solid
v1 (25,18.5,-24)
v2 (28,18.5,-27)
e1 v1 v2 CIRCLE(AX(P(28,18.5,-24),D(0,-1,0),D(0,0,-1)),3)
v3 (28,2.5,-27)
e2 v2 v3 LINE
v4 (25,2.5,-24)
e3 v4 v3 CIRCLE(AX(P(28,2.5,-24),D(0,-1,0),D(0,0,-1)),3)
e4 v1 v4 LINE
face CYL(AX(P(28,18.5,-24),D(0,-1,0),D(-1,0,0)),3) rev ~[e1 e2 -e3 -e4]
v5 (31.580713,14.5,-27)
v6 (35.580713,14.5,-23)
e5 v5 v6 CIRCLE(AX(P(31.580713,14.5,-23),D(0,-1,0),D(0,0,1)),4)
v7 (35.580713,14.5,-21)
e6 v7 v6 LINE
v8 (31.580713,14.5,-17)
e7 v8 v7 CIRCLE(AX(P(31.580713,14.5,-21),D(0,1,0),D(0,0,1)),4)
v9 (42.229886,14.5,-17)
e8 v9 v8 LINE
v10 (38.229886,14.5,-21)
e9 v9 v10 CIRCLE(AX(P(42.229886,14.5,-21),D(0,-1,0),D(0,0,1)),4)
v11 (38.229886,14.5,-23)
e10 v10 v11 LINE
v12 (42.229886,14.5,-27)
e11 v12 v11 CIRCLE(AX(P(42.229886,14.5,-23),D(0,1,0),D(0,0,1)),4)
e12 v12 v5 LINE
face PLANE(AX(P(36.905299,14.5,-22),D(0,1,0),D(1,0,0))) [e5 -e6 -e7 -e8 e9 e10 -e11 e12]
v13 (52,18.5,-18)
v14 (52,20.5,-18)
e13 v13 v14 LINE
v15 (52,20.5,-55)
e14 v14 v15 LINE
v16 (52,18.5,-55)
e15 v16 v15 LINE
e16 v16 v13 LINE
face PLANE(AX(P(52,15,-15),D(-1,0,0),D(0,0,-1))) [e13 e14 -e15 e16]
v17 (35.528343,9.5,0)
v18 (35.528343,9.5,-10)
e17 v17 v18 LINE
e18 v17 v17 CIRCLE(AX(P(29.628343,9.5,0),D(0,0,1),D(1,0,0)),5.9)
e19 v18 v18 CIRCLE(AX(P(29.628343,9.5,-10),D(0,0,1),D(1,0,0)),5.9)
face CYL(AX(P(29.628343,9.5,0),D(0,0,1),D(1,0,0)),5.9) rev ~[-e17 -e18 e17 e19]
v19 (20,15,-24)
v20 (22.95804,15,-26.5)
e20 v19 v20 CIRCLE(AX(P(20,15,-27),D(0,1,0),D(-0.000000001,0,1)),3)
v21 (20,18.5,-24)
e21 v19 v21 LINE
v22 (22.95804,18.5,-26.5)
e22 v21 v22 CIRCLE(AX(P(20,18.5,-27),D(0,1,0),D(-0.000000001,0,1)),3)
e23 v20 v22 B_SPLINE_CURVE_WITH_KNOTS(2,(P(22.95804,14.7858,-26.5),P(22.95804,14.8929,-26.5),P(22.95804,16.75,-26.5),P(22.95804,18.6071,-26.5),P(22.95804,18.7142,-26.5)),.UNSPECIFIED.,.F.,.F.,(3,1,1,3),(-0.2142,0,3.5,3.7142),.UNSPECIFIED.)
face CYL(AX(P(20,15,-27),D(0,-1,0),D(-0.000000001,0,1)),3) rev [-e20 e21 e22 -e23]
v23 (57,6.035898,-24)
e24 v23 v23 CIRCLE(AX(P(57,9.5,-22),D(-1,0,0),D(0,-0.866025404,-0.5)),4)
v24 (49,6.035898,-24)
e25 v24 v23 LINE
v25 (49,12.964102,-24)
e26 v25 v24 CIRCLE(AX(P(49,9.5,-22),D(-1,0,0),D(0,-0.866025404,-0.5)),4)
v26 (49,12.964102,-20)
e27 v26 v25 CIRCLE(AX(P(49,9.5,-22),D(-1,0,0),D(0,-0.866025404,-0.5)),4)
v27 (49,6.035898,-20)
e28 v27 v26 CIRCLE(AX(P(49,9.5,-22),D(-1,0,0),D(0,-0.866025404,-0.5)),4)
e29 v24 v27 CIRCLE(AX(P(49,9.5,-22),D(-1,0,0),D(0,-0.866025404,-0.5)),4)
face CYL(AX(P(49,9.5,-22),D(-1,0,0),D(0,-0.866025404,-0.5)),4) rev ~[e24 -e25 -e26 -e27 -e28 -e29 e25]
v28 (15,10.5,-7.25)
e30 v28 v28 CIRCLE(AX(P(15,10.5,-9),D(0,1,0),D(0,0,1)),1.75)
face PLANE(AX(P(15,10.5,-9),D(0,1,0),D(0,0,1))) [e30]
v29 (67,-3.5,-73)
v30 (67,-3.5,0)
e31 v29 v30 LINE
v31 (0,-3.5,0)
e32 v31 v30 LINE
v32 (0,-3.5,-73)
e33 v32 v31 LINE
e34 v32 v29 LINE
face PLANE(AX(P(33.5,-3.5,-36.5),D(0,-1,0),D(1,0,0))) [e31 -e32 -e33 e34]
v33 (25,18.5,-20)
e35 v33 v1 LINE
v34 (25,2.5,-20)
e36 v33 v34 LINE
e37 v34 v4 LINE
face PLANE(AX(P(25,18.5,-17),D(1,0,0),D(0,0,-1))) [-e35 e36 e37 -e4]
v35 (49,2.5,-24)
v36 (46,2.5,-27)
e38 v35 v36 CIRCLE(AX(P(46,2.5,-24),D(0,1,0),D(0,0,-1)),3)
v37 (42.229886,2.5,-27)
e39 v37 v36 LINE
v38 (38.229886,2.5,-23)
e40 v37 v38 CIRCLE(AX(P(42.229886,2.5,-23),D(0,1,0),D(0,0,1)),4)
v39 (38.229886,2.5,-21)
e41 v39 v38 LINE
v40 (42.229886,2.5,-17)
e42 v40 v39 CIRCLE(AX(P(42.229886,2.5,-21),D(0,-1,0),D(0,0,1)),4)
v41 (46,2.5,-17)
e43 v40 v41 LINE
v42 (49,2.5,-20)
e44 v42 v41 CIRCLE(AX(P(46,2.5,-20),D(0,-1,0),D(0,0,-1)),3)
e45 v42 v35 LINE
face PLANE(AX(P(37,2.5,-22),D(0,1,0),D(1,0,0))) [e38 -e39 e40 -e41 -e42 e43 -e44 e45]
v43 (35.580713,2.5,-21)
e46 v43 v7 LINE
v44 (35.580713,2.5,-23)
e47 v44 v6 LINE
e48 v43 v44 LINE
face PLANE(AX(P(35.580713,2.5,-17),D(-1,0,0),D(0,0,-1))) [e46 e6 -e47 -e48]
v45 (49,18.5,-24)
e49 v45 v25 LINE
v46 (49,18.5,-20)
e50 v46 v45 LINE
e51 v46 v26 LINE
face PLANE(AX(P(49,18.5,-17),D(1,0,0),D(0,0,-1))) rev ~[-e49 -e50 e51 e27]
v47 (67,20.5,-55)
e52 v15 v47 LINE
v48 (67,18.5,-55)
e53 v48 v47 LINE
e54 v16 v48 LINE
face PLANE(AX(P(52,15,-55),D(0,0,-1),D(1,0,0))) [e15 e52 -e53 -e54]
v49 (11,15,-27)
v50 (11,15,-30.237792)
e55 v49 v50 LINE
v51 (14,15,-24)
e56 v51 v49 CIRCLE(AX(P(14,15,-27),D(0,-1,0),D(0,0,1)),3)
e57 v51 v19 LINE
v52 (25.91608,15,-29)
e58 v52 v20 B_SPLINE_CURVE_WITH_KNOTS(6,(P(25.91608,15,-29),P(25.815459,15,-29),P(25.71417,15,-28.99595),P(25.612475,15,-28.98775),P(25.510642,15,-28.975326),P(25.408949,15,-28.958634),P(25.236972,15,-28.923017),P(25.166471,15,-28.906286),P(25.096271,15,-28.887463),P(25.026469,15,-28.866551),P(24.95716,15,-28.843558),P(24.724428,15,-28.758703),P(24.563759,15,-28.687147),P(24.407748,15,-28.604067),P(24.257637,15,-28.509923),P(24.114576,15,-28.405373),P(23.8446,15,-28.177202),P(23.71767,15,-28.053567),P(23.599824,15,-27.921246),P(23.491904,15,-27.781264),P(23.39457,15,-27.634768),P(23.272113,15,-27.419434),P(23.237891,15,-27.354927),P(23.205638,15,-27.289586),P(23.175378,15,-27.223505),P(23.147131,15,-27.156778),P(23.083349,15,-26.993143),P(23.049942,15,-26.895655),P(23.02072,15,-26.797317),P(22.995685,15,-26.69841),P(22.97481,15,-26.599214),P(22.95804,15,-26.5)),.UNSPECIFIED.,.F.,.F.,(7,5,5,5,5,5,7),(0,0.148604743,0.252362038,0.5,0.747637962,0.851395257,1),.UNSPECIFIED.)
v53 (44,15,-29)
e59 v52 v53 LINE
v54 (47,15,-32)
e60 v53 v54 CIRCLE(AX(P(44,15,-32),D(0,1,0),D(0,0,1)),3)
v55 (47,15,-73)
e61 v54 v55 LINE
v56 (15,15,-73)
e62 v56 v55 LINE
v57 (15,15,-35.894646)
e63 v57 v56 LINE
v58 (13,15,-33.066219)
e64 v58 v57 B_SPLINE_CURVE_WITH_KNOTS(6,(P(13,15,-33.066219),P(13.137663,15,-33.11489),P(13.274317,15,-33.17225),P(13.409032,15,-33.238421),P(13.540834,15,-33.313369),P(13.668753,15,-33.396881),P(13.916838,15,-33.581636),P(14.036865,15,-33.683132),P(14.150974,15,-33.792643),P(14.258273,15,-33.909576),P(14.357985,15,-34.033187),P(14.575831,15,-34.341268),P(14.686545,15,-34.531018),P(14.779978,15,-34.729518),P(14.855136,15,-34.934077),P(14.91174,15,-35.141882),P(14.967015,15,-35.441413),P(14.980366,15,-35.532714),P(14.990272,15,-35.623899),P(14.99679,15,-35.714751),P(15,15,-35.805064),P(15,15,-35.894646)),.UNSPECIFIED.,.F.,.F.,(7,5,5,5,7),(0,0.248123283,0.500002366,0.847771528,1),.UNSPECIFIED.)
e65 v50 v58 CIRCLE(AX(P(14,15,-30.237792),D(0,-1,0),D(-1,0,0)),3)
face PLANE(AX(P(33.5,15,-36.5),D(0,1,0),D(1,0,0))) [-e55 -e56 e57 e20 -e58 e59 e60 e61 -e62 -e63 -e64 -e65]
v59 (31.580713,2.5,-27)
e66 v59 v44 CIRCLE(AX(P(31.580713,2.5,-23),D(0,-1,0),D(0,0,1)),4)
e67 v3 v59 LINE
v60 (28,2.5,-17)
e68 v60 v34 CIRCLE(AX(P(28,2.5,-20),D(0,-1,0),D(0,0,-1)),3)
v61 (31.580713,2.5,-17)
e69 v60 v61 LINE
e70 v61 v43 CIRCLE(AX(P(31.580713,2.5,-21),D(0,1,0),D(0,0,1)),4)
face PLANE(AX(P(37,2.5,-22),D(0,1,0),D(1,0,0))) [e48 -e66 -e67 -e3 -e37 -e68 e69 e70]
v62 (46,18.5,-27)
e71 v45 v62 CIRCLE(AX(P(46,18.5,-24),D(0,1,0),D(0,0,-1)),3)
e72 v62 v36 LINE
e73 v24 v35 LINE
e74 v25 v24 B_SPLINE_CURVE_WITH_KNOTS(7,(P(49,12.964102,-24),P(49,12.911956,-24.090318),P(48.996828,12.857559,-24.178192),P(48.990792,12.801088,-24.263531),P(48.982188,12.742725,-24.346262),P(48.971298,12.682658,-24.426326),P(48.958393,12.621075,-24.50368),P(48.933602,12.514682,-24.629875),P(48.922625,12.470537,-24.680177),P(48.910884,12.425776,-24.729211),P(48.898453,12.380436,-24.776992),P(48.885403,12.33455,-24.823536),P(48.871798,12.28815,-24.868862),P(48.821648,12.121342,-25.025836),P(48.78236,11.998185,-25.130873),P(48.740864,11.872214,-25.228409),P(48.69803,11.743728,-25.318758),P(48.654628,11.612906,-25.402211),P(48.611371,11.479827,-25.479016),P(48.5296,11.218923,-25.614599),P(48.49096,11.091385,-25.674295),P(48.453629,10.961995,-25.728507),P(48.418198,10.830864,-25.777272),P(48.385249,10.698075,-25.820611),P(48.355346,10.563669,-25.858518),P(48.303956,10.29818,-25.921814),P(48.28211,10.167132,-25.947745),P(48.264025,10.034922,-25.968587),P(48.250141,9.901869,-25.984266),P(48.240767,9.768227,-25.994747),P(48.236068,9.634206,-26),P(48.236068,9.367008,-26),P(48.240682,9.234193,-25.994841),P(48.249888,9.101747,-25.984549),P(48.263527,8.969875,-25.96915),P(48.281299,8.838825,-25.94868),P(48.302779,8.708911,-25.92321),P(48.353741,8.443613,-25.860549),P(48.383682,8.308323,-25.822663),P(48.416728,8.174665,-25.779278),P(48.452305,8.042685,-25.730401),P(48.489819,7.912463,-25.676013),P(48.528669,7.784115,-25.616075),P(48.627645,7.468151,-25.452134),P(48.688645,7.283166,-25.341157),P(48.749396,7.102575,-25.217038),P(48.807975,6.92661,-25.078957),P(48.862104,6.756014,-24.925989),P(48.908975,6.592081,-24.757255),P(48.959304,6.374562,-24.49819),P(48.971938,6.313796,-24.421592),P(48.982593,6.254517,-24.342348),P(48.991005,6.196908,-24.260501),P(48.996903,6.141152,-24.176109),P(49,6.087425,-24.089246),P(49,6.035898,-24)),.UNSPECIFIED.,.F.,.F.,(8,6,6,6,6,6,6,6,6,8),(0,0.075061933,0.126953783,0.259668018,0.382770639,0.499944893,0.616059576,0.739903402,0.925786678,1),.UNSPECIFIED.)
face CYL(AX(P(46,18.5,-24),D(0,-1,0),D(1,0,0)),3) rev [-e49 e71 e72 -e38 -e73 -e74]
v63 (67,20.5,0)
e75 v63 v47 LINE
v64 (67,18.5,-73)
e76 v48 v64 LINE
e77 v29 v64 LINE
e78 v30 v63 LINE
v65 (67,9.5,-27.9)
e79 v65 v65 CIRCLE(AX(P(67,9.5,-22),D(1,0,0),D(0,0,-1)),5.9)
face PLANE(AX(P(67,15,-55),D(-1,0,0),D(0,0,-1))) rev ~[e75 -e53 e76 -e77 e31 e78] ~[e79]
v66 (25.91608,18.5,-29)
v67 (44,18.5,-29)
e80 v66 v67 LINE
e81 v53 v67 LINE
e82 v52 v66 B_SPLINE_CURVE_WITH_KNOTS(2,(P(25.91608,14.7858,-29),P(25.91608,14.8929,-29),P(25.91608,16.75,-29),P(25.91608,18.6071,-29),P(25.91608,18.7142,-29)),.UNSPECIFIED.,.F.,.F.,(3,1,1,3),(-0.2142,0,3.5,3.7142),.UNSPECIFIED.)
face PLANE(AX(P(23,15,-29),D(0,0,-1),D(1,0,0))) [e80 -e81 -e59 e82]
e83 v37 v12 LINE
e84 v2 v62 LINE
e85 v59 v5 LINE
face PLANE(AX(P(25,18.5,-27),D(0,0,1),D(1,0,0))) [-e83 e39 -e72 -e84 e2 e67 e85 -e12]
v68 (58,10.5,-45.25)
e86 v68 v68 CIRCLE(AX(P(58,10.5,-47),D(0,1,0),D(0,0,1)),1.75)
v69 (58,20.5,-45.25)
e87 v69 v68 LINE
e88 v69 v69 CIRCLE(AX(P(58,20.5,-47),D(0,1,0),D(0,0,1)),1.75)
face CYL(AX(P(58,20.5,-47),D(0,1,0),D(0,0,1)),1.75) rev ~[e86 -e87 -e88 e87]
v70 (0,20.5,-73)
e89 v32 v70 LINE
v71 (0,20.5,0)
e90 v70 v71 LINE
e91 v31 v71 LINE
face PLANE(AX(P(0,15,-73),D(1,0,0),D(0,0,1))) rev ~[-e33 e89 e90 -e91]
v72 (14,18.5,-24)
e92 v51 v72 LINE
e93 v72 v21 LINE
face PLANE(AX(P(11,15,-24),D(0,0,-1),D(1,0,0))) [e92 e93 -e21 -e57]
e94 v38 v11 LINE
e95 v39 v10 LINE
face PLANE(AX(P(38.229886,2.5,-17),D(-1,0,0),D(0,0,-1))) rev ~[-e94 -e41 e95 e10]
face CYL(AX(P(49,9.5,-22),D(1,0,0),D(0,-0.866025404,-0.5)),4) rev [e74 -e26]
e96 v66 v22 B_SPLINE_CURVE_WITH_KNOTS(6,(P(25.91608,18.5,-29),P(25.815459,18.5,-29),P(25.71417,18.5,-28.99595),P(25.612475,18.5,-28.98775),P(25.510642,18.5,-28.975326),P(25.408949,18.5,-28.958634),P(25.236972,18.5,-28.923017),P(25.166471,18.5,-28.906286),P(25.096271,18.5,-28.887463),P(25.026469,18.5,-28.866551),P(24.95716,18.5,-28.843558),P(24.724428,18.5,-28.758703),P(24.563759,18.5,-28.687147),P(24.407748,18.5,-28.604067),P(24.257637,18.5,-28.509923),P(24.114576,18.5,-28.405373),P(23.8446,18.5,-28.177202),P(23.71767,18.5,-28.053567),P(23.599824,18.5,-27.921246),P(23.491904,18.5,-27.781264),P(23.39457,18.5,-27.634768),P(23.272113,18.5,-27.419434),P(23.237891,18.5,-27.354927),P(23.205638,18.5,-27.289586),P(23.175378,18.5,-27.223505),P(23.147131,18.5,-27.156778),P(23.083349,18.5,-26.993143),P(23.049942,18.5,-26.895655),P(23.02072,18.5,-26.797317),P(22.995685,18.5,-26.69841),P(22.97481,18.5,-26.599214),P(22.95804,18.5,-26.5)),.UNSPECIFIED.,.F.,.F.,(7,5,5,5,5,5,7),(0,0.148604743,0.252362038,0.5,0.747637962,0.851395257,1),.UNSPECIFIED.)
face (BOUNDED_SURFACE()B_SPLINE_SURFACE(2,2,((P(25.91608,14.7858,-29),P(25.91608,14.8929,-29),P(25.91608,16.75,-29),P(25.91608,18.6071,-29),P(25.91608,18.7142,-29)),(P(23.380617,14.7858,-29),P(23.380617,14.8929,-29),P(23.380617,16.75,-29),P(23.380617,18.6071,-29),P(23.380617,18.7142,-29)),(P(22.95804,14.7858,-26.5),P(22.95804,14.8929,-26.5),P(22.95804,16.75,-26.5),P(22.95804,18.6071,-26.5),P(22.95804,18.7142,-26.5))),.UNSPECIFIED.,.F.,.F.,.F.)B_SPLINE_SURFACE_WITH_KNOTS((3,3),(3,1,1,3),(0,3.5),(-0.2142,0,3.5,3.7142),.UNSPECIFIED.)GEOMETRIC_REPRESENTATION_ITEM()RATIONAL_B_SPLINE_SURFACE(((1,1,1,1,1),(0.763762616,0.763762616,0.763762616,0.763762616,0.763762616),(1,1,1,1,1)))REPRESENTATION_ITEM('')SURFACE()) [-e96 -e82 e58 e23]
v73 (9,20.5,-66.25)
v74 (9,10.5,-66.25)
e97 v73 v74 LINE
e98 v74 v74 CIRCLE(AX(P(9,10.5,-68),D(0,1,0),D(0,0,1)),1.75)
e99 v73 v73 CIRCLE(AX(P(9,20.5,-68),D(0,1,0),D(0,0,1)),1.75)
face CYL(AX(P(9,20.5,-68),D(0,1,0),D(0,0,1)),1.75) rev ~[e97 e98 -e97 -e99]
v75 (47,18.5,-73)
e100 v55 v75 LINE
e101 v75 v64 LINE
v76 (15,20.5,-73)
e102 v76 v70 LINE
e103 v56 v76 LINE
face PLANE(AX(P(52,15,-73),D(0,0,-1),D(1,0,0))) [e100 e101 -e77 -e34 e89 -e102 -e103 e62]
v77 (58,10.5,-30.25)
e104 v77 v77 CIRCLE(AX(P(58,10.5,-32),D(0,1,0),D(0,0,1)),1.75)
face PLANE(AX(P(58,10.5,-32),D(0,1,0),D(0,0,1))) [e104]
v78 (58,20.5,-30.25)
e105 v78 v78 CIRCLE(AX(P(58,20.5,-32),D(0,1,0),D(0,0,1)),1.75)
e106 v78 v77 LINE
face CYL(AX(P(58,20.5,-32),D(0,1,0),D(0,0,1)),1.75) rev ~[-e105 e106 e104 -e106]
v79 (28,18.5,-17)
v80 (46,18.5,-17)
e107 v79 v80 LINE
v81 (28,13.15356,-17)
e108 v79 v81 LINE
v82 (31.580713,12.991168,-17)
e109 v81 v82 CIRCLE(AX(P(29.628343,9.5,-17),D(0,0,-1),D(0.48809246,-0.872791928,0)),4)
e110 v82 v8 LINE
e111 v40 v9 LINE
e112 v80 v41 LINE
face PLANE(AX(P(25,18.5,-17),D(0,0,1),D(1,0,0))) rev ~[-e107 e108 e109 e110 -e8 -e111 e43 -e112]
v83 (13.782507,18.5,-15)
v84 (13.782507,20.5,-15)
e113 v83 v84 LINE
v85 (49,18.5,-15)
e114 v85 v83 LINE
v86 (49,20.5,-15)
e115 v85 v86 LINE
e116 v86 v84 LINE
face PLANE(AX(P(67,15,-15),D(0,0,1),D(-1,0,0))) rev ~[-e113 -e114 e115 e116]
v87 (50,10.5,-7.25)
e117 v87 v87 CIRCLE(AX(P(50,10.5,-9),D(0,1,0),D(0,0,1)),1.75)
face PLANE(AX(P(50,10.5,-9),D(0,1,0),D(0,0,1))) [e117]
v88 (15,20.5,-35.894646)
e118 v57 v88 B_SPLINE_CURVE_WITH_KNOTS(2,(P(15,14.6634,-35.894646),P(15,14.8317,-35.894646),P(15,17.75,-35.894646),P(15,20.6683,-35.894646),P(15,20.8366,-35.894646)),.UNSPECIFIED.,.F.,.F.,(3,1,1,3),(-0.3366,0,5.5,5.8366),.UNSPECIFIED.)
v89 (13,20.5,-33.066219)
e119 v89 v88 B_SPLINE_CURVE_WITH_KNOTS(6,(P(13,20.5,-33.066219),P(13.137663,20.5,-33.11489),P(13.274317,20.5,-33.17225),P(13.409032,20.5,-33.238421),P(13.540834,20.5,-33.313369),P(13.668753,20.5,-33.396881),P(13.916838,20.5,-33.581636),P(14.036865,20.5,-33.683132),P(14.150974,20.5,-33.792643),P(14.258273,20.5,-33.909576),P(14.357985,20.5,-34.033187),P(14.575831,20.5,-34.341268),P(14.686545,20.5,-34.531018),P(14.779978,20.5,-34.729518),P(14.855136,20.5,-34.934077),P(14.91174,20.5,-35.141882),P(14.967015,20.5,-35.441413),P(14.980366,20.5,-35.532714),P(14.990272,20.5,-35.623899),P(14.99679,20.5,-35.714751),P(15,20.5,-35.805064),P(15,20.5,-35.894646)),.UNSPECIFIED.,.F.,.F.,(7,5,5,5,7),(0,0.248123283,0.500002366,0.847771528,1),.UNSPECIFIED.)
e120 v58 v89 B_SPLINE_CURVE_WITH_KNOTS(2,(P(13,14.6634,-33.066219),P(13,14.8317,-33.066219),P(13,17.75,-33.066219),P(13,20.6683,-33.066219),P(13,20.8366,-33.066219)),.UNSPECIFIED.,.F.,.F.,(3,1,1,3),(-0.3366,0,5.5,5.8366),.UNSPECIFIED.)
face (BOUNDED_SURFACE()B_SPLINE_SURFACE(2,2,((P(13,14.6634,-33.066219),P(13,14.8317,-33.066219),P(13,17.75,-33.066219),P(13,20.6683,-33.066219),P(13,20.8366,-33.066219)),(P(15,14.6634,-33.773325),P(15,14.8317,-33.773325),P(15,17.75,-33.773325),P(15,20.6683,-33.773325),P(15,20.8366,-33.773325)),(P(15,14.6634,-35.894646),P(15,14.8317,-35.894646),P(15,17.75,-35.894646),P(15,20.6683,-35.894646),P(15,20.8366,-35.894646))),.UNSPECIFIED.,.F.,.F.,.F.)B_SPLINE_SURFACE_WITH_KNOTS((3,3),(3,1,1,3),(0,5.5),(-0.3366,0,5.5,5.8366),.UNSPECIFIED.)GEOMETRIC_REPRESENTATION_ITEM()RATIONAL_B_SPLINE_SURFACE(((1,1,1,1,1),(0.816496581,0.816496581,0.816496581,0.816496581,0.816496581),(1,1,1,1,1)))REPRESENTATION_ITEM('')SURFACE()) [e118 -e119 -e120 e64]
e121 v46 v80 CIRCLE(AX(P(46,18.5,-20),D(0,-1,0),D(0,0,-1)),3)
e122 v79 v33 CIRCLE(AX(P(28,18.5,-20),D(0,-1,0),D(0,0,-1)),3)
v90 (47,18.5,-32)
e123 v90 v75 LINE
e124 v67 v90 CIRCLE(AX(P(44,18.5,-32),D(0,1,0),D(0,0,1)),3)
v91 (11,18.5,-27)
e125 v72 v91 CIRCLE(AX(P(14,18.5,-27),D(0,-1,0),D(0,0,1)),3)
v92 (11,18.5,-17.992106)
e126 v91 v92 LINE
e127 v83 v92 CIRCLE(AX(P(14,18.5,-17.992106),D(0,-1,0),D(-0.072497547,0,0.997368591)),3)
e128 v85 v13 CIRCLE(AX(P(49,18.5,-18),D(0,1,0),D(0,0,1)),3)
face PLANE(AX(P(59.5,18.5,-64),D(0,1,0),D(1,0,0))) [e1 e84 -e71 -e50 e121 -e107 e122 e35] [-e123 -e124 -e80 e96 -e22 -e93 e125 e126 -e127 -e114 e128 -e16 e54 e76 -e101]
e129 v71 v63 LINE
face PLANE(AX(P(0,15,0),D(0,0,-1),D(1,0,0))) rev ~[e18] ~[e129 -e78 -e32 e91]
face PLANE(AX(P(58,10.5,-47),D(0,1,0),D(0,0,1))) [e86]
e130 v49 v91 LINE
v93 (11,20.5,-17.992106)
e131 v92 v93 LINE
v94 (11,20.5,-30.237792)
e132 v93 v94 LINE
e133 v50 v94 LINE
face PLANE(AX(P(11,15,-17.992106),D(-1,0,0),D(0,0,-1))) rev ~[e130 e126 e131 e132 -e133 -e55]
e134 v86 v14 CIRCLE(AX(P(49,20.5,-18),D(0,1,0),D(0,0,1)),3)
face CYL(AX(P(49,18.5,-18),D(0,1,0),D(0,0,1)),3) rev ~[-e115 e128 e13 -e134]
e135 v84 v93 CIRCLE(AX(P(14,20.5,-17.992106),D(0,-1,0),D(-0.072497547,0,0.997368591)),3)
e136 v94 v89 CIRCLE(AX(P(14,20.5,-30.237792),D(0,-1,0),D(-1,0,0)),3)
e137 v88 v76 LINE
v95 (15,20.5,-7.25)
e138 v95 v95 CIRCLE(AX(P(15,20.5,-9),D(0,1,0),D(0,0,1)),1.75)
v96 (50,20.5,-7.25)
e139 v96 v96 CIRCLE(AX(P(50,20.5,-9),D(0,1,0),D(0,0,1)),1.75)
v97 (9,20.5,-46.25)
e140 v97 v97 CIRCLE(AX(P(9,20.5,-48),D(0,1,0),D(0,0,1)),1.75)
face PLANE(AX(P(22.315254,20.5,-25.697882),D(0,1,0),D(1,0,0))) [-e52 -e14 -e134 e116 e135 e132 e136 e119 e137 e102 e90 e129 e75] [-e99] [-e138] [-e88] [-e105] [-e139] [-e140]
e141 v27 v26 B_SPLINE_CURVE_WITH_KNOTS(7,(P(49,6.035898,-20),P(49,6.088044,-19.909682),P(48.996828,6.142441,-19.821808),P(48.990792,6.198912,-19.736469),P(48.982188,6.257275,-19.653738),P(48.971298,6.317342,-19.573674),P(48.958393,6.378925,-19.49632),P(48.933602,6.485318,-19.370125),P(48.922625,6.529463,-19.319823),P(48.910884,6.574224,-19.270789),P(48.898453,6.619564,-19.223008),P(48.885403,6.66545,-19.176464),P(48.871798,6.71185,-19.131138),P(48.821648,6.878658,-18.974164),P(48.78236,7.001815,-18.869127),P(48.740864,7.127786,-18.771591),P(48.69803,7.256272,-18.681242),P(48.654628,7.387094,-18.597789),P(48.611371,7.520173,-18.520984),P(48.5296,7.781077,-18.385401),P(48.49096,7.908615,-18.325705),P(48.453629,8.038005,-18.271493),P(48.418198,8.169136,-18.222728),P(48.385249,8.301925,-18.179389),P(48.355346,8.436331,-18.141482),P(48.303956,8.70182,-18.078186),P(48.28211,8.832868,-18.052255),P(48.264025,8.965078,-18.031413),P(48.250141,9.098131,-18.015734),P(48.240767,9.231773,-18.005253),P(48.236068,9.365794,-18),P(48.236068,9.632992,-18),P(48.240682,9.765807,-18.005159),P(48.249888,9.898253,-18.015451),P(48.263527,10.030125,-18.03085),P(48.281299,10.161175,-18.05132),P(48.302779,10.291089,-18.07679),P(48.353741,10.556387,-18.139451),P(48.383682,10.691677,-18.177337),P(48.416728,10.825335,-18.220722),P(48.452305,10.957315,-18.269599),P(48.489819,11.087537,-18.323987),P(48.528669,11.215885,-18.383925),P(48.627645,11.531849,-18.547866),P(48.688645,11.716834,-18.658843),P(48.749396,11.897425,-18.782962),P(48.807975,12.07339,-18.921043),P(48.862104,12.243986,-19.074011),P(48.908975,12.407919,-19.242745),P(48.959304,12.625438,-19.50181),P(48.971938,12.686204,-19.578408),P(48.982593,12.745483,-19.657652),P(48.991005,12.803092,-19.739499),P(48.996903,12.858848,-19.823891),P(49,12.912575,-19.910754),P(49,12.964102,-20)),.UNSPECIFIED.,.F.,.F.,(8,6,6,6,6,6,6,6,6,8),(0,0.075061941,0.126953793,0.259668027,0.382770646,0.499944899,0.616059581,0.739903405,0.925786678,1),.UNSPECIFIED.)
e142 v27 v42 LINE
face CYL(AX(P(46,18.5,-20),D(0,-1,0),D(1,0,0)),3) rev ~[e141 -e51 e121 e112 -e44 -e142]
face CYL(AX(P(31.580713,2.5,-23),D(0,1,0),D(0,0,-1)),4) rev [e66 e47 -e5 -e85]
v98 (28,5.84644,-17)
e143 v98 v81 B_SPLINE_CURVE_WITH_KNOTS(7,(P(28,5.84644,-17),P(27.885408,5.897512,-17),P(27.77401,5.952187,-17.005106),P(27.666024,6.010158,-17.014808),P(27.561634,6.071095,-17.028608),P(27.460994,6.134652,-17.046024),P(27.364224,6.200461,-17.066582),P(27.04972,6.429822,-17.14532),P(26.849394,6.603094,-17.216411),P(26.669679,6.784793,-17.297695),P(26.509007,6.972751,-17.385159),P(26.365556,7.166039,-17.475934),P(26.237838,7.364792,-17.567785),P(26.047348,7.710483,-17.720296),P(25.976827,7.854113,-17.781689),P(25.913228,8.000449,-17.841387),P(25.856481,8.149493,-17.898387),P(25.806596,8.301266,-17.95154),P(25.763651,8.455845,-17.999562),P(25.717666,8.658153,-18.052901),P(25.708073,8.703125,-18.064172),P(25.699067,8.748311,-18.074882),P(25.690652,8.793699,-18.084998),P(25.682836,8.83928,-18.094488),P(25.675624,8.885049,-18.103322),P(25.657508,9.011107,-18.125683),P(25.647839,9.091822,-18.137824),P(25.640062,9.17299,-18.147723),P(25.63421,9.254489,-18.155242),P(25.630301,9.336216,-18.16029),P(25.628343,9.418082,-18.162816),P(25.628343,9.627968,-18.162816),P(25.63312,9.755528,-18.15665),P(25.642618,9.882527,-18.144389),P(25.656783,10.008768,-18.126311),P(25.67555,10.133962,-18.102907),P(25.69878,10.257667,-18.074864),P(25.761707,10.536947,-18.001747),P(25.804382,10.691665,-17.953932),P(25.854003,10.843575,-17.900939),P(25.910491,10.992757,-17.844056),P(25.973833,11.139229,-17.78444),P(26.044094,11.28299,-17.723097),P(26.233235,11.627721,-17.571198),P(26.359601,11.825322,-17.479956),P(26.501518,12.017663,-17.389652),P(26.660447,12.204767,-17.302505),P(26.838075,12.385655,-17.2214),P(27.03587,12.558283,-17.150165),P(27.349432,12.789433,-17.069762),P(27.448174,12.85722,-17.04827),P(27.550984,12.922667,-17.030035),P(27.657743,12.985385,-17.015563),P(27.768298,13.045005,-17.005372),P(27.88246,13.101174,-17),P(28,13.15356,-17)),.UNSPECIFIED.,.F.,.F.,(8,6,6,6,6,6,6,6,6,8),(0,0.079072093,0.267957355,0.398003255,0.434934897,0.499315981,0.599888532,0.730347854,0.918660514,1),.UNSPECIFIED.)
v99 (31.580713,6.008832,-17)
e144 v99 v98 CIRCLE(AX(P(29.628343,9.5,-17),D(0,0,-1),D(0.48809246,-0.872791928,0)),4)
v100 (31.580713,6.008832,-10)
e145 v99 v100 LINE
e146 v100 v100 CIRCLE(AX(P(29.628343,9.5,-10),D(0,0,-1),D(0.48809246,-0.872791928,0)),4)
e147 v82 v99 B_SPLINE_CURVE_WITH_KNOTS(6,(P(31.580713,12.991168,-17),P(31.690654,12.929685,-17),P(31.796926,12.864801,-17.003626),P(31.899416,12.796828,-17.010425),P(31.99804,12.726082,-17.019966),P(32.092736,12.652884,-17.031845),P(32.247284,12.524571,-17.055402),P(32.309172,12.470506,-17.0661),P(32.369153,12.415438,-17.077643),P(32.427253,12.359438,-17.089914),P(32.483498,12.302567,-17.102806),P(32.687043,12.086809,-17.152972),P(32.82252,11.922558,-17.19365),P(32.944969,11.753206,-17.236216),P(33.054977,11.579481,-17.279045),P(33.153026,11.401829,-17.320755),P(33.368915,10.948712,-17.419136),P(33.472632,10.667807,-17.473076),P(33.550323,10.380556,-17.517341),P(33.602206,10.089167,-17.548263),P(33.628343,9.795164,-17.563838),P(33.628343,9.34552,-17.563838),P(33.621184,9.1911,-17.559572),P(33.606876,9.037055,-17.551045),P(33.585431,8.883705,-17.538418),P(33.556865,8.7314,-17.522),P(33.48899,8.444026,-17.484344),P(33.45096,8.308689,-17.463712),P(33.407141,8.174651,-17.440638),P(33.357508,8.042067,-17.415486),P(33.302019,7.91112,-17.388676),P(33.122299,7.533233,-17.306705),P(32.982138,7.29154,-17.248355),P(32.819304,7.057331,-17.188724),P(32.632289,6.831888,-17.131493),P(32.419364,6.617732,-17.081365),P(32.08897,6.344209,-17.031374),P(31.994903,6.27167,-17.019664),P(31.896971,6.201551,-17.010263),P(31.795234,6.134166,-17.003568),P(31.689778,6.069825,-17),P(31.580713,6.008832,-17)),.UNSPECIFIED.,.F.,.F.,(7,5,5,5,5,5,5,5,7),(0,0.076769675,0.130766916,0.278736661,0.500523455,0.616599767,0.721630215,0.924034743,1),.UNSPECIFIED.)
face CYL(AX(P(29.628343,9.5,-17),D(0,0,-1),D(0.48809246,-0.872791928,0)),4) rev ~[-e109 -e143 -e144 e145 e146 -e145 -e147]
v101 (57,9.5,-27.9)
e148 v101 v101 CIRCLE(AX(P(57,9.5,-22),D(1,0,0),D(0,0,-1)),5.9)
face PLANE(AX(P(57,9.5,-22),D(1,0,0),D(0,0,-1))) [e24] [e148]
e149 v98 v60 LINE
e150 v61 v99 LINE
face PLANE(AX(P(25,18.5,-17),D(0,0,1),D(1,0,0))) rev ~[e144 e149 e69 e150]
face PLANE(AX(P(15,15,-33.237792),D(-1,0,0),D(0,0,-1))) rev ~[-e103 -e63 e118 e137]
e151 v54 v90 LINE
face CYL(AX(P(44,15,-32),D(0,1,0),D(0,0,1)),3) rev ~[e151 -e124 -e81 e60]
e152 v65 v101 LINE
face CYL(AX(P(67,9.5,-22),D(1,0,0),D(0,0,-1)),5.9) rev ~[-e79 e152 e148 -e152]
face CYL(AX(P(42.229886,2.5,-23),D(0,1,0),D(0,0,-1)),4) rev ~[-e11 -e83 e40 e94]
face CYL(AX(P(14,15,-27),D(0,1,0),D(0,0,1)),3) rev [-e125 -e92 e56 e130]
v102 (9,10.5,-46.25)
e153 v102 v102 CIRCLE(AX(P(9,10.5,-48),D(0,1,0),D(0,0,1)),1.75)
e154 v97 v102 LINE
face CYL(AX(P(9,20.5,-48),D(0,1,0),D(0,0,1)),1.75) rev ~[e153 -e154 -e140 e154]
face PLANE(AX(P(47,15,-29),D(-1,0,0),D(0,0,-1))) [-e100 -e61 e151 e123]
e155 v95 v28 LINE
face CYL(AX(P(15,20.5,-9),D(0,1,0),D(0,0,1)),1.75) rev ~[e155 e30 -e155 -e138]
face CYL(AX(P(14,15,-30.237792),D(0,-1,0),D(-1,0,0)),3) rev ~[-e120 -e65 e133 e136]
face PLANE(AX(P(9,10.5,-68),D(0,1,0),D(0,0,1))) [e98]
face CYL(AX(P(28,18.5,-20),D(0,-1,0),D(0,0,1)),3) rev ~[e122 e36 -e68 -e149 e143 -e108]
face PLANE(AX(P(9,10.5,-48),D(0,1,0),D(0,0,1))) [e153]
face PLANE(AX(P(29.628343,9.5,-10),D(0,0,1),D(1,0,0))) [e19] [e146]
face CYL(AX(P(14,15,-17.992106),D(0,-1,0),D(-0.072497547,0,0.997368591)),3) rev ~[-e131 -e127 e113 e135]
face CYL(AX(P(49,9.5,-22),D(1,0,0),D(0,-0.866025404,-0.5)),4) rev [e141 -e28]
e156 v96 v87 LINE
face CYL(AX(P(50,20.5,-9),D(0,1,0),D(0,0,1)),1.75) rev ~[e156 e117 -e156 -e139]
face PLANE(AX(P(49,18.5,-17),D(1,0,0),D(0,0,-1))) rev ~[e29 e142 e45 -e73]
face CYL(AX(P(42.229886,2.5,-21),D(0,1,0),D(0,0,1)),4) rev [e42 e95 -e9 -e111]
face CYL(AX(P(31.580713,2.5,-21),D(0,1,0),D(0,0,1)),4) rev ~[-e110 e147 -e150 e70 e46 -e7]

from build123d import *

# Parameters (mm, degrees)
SKETCH1_W                = 67
SKETCH1_H                = 73
BOSS_EXTRUDE1_DEPTH      = 15
BOSS_EXTRUDE2_DEPTH      = 3.5
SKETCH6_W                = 24
SKETCH6_H                = 10
CUT_EXTRUDE2_DEPTH       = 16
SKETCH11_W               = 67
SKETCH11_H               = 73
BOSS_EXTRUDE4_DEPTH      = 3.5
SKETCH13_W               = 15
SKETCH13_H               = 40
BOSS_EXTRUDE6_DEPTH      = 5.5
SKETCH14_R               = 1.75
CUT_EXTRUDE7_DEPTH       = 10
BOSS_EXTRUDE7_DEPTH      = 5.5
FILLET5_R                = 3
SKETCH20_W               = 15
SKETCH20_H               = 18
BOSS_EXTRUDE8_DEPTH      = 3.5
FILLET10_R               = 3
FILLET11_R               = 3
FILLET12_R               = 3
FILLET13_R               = 3
SKETCH21_W               = 2.649172372
SKETCH21_H               = 10
BOSS_EXTRUDE9_DEPTH      = 12
FILLET15_R               = 4
SKETCH19_R               = 1.75
CUT_EXTRUDE11_DEPTH      = 10
SKETCH23_R               = 4
CUT_EXTRUDE12_DEPTH      = 2
CUT_EXTRUDE12_DEPTH_BACK = 91.278735196
SKETCH24_R               = 5.9
CUT_EXTRUDE13_DEPTH      = 10
SKETCH25_R               = 4
CUT_EXTRUDE14_DEPTH      = 2
CUT_EXTRUDE14_DEPTH_BACK = 90.695317764
SKETCH26_R               = 5.9
CUT_EXTRUDE15_DEPTH      = 10


with BuildPart() as part:
    # Sketch1 → Boss-Extrude1 (new body)
    with BuildSketch(Plane(origin=(0, 0, 0), x_dir=(1, 0, 0), z_dir=(0, 1, 0))):
        with Locations((33.5, 36.5)):
            Rectangle(SKETCH1_W, SKETCH1_H)
    extrude(amount=BOSS_EXTRUDE1_DEPTH)

    # Sketch5 → Boss-Extrude2 (add)
    with BuildSketch(Plane(origin=(0, 15, 0), x_dir=(1, 0, 0), z_dir=(0, 1, 0))):
        with BuildLine():
            Line((18.5, 15), (11, 15))
            Line((11, 15), (11, 24))
            Line((11, 24), (14.788897449, 24))
            Line((14.788897449, 24), (20, 24))
            ThreePointArc((20, 24), (22.121320344, 24.878679656), (23, 27))
            Line((23, 27), (23, 29))
            Line((23, 29), (47, 29))
            Line((47, 29), (47, 73))
            Line((47, 73), (52, 73))
            Line((52, 73), (52, 15))
            Line((52, 15), (32, 15))
            Line((32, 15), (18.5, 15))
        make_face()
    extrude(amount=BOSS_EXTRUDE2_DEPTH)

    # Sketch6 → Cut-Extrude2 (cut)
    with BuildSketch(Plane(origin=(0, 18.5, 0), x_dir=(1, 0, 0), z_dir=(0, 1, 0))):
        with Locations((37, 22)):
            Rectangle(SKETCH6_W, SKETCH6_H)
    extrude(amount=-CUT_EXTRUDE2_DEPTH, mode=Mode.SUBTRACT)

    # Sketch11 → Boss-Extrude4 (add)
    with BuildSketch(Plane.XZ):
        with Locations((33.5, -36.5)):
            Rectangle(SKETCH11_W, SKETCH11_H)
    extrude(amount=BOSS_EXTRUDE4_DEPTH)

    # Sketch13 → Boss-Extrude6 (add)
    with BuildSketch(Plane(origin=(0, 15, 0), x_dir=(1, 0, 0), z_dir=(0, 1, 0))):
        with Locations((59.5, 35)):
            Rectangle(SKETCH13_W, SKETCH13_H)
    extrude(amount=BOSS_EXTRUDE6_DEPTH)

    # Sketch14 → Cut-Extrude7 (cut)
    with BuildSketch(Plane(origin=(0, 20.5, 0), x_dir=(1, 0, 0), z_dir=(0, 1, 0))):
        with Locations(Location((58, 47, 0), (0, 0, 270))):
            Circle(SKETCH14_R)
        with Locations(Location((58, 32, 0), (0, 0, 270))):
            Circle(SKETCH14_R)
    extrude(amount=-CUT_EXTRUDE7_DEPTH, mode=Mode.SUBTRACT)

    # Sketch18 → Boss-Extrude7 (add)
    with BuildSketch(Plane(origin=(0, 15, 0), x_dir=(1, 0, 0), z_dir=(0, 1, 0))):
        with BuildLine():
            Line((15, 33.237791503), (15, 73))
            Line((15, 73), (0, 73))
            Line((0, 73), (0, 15))
            Line((0, 15), (0, 0))
            Line((0, 0), (67, 0))
            Line((67, 0), (67, 15))
            Line((67, 15), (15, 15))
            Line((15, 15), (13.782507359, 15))
            ThreePointArc((13.782507359, 15), (11.803129735, 15.9491273), (11, 17.992105772))
            Line((11, 17.992105772), (11, 30.237791503))
            ThreePointArc((11, 30.237791503), (11.878679656, 32.359111846), (14, 33.237791503))
            Line((14, 33.237791503), (15, 33.237791503))
        make_face()
    extrude(amount=BOSS_EXTRUDE7_DEPTH)

    # Fillet5
    fillet5_edges = [part.edges().sort_by_distance(p)[0] for p in [
        (52, 19.5, -15),
    ]]
    fillet(fillet5_edges, radius=FILLET5_R)

    # Sketch20 → Boss-Extrude8 (add)
    with BuildSketch(Plane(origin=(0, 15, 0), x_dir=(1, 0, 0), z_dir=(0, 1, 0))):
        with Locations((59.5, 64)):
            Rectangle(SKETCH20_W, SKETCH20_H)
    extrude(amount=BOSS_EXTRUDE8_DEPTH)

    # Fillet10
    fillet10_edges = [part.edges().sort_by_distance(p)[0] for p in [
        (47, 16.75, -29),
    ]]
    fillet(fillet10_edges, radius=FILLET10_R)

    # Fillet11
    fillet11_edges = [part.edges().sort_by_distance(p)[0] for p in [
        (23, 16.75, -29),
        (11, 16.75, -24),
    ]]
    fillet(fillet11_edges, radius=FILLET11_R)

    # Fillet12
    fillet12_edges = [part.edges().sort_by_distance(p)[0] for p in [
        (15, 17.75, -33.237791503),
    ]]
    fillet(fillet12_edges, radius=FILLET12_R)

    # Fillet13
    fillet13_edges = [part.edges().sort_by_distance(p)[0] for p in [
        (25, 10.5, -17),
        (25, 10.5, -27),
        (49, 10.5, -27),
        (49, 10.5, -17),
    ]]
    fillet(fillet13_edges, radius=FILLET13_R)

    # Sketch21 → Boss-Extrude9 (add)
    with BuildSketch(Plane(origin=(0, 2.5, 0), x_dir=(1, 0, 0), z_dir=(0, 1, 0))):
        with Locations((36.905299385, 22)):
            Rectangle(SKETCH21_W, SKETCH21_H)
    extrude(amount=BOSS_EXTRUDE9_DEPTH)

    # Fillet15
    fillet15_edges = [part.edges().sort_by_distance(p)[0] for p in [
        (35.580713199, 8.5, -27),
        (35.580713199, 8.5, -17),
        (38.229885571, 8.5, -17),
        (38.229885571, 8.5, -27),
    ]]
    fillet(fillet15_edges, radius=FILLET15_R)

    # Sketch19 → Cut-Extrude11 (cut)
    with BuildSketch(Plane(origin=(0, 20.5, 0), x_dir=(1, 0, 0), z_dir=(0, 1, 0))):
        with Locations(Location((9, 48, 0), (0, 0, 270))):
            Circle(SKETCH19_R)
        with Locations(Location((9, 68, 0), (0, 0, 270))):
            Circle(SKETCH19_R)
        with Locations(Location((15, 9, 0), (0, 0, 270))):
            Circle(SKETCH19_R)
        with Locations(Location((50, 9, 0), (0, 0, 270))):
            Circle(SKETCH19_R)
    extrude(amount=-CUT_EXTRUDE11_DEPTH, mode=Mode.SUBTRACT)

    # Sketch23 → Cut-Extrude12 (cut, two sides)
    with BuildSketch(Plane.ZY.offset(-49)) as cut_extrude12_sk:
        with Locations(Location((-22, 9.5, 0), (0, 0, 240))):
            Circle(SKETCH23_R)
    extrude(amount=CUT_EXTRUDE12_DEPTH, mode=Mode.SUBTRACT)
    extrude(cut_extrude12_sk.sketch, amount=-CUT_EXTRUDE12_DEPTH_BACK, mode=Mode.SUBTRACT)

    # Sketch24 → Cut-Extrude13 (cut)
    with BuildSketch(Plane(origin=(67, 0, 0), x_dir=(0, 0, -1), z_dir=(1, 0, 0))):
        with Locations((22, 9.5)):
            Circle(SKETCH24_R)
    extrude(amount=-CUT_EXTRUDE13_DEPTH, mode=Mode.SUBTRACT)

    # Sketch25 → Cut-Extrude14 (cut, two sides)
    with BuildSketch(Plane(origin=(0, 0, -17), x_dir=(-1, 0, 0), z_dir=(0, 0, -1))) as cut_extrude14_sk:
        with Locations(Location((-29.628343357, 9.5, 0), (0, 0, 240.784718546))):
            Circle(SKETCH25_R)
    extrude(amount=CUT_EXTRUDE14_DEPTH, mode=Mode.SUBTRACT)
    extrude(cut_extrude14_sk.sketch, amount=-CUT_EXTRUDE14_DEPTH_BACK, mode=Mode.SUBTRACT)

    # Sketch26 → Cut-Extrude15 (cut)
    with BuildSketch(Plane.XY):
        with Locations((29.628343357, 9.5)):
            Circle(SKETCH26_R)
    extrude(amount=-CUT_EXTRUDE15_DEPTH, mode=Mode.SUBTRACT)


solid = part.part
